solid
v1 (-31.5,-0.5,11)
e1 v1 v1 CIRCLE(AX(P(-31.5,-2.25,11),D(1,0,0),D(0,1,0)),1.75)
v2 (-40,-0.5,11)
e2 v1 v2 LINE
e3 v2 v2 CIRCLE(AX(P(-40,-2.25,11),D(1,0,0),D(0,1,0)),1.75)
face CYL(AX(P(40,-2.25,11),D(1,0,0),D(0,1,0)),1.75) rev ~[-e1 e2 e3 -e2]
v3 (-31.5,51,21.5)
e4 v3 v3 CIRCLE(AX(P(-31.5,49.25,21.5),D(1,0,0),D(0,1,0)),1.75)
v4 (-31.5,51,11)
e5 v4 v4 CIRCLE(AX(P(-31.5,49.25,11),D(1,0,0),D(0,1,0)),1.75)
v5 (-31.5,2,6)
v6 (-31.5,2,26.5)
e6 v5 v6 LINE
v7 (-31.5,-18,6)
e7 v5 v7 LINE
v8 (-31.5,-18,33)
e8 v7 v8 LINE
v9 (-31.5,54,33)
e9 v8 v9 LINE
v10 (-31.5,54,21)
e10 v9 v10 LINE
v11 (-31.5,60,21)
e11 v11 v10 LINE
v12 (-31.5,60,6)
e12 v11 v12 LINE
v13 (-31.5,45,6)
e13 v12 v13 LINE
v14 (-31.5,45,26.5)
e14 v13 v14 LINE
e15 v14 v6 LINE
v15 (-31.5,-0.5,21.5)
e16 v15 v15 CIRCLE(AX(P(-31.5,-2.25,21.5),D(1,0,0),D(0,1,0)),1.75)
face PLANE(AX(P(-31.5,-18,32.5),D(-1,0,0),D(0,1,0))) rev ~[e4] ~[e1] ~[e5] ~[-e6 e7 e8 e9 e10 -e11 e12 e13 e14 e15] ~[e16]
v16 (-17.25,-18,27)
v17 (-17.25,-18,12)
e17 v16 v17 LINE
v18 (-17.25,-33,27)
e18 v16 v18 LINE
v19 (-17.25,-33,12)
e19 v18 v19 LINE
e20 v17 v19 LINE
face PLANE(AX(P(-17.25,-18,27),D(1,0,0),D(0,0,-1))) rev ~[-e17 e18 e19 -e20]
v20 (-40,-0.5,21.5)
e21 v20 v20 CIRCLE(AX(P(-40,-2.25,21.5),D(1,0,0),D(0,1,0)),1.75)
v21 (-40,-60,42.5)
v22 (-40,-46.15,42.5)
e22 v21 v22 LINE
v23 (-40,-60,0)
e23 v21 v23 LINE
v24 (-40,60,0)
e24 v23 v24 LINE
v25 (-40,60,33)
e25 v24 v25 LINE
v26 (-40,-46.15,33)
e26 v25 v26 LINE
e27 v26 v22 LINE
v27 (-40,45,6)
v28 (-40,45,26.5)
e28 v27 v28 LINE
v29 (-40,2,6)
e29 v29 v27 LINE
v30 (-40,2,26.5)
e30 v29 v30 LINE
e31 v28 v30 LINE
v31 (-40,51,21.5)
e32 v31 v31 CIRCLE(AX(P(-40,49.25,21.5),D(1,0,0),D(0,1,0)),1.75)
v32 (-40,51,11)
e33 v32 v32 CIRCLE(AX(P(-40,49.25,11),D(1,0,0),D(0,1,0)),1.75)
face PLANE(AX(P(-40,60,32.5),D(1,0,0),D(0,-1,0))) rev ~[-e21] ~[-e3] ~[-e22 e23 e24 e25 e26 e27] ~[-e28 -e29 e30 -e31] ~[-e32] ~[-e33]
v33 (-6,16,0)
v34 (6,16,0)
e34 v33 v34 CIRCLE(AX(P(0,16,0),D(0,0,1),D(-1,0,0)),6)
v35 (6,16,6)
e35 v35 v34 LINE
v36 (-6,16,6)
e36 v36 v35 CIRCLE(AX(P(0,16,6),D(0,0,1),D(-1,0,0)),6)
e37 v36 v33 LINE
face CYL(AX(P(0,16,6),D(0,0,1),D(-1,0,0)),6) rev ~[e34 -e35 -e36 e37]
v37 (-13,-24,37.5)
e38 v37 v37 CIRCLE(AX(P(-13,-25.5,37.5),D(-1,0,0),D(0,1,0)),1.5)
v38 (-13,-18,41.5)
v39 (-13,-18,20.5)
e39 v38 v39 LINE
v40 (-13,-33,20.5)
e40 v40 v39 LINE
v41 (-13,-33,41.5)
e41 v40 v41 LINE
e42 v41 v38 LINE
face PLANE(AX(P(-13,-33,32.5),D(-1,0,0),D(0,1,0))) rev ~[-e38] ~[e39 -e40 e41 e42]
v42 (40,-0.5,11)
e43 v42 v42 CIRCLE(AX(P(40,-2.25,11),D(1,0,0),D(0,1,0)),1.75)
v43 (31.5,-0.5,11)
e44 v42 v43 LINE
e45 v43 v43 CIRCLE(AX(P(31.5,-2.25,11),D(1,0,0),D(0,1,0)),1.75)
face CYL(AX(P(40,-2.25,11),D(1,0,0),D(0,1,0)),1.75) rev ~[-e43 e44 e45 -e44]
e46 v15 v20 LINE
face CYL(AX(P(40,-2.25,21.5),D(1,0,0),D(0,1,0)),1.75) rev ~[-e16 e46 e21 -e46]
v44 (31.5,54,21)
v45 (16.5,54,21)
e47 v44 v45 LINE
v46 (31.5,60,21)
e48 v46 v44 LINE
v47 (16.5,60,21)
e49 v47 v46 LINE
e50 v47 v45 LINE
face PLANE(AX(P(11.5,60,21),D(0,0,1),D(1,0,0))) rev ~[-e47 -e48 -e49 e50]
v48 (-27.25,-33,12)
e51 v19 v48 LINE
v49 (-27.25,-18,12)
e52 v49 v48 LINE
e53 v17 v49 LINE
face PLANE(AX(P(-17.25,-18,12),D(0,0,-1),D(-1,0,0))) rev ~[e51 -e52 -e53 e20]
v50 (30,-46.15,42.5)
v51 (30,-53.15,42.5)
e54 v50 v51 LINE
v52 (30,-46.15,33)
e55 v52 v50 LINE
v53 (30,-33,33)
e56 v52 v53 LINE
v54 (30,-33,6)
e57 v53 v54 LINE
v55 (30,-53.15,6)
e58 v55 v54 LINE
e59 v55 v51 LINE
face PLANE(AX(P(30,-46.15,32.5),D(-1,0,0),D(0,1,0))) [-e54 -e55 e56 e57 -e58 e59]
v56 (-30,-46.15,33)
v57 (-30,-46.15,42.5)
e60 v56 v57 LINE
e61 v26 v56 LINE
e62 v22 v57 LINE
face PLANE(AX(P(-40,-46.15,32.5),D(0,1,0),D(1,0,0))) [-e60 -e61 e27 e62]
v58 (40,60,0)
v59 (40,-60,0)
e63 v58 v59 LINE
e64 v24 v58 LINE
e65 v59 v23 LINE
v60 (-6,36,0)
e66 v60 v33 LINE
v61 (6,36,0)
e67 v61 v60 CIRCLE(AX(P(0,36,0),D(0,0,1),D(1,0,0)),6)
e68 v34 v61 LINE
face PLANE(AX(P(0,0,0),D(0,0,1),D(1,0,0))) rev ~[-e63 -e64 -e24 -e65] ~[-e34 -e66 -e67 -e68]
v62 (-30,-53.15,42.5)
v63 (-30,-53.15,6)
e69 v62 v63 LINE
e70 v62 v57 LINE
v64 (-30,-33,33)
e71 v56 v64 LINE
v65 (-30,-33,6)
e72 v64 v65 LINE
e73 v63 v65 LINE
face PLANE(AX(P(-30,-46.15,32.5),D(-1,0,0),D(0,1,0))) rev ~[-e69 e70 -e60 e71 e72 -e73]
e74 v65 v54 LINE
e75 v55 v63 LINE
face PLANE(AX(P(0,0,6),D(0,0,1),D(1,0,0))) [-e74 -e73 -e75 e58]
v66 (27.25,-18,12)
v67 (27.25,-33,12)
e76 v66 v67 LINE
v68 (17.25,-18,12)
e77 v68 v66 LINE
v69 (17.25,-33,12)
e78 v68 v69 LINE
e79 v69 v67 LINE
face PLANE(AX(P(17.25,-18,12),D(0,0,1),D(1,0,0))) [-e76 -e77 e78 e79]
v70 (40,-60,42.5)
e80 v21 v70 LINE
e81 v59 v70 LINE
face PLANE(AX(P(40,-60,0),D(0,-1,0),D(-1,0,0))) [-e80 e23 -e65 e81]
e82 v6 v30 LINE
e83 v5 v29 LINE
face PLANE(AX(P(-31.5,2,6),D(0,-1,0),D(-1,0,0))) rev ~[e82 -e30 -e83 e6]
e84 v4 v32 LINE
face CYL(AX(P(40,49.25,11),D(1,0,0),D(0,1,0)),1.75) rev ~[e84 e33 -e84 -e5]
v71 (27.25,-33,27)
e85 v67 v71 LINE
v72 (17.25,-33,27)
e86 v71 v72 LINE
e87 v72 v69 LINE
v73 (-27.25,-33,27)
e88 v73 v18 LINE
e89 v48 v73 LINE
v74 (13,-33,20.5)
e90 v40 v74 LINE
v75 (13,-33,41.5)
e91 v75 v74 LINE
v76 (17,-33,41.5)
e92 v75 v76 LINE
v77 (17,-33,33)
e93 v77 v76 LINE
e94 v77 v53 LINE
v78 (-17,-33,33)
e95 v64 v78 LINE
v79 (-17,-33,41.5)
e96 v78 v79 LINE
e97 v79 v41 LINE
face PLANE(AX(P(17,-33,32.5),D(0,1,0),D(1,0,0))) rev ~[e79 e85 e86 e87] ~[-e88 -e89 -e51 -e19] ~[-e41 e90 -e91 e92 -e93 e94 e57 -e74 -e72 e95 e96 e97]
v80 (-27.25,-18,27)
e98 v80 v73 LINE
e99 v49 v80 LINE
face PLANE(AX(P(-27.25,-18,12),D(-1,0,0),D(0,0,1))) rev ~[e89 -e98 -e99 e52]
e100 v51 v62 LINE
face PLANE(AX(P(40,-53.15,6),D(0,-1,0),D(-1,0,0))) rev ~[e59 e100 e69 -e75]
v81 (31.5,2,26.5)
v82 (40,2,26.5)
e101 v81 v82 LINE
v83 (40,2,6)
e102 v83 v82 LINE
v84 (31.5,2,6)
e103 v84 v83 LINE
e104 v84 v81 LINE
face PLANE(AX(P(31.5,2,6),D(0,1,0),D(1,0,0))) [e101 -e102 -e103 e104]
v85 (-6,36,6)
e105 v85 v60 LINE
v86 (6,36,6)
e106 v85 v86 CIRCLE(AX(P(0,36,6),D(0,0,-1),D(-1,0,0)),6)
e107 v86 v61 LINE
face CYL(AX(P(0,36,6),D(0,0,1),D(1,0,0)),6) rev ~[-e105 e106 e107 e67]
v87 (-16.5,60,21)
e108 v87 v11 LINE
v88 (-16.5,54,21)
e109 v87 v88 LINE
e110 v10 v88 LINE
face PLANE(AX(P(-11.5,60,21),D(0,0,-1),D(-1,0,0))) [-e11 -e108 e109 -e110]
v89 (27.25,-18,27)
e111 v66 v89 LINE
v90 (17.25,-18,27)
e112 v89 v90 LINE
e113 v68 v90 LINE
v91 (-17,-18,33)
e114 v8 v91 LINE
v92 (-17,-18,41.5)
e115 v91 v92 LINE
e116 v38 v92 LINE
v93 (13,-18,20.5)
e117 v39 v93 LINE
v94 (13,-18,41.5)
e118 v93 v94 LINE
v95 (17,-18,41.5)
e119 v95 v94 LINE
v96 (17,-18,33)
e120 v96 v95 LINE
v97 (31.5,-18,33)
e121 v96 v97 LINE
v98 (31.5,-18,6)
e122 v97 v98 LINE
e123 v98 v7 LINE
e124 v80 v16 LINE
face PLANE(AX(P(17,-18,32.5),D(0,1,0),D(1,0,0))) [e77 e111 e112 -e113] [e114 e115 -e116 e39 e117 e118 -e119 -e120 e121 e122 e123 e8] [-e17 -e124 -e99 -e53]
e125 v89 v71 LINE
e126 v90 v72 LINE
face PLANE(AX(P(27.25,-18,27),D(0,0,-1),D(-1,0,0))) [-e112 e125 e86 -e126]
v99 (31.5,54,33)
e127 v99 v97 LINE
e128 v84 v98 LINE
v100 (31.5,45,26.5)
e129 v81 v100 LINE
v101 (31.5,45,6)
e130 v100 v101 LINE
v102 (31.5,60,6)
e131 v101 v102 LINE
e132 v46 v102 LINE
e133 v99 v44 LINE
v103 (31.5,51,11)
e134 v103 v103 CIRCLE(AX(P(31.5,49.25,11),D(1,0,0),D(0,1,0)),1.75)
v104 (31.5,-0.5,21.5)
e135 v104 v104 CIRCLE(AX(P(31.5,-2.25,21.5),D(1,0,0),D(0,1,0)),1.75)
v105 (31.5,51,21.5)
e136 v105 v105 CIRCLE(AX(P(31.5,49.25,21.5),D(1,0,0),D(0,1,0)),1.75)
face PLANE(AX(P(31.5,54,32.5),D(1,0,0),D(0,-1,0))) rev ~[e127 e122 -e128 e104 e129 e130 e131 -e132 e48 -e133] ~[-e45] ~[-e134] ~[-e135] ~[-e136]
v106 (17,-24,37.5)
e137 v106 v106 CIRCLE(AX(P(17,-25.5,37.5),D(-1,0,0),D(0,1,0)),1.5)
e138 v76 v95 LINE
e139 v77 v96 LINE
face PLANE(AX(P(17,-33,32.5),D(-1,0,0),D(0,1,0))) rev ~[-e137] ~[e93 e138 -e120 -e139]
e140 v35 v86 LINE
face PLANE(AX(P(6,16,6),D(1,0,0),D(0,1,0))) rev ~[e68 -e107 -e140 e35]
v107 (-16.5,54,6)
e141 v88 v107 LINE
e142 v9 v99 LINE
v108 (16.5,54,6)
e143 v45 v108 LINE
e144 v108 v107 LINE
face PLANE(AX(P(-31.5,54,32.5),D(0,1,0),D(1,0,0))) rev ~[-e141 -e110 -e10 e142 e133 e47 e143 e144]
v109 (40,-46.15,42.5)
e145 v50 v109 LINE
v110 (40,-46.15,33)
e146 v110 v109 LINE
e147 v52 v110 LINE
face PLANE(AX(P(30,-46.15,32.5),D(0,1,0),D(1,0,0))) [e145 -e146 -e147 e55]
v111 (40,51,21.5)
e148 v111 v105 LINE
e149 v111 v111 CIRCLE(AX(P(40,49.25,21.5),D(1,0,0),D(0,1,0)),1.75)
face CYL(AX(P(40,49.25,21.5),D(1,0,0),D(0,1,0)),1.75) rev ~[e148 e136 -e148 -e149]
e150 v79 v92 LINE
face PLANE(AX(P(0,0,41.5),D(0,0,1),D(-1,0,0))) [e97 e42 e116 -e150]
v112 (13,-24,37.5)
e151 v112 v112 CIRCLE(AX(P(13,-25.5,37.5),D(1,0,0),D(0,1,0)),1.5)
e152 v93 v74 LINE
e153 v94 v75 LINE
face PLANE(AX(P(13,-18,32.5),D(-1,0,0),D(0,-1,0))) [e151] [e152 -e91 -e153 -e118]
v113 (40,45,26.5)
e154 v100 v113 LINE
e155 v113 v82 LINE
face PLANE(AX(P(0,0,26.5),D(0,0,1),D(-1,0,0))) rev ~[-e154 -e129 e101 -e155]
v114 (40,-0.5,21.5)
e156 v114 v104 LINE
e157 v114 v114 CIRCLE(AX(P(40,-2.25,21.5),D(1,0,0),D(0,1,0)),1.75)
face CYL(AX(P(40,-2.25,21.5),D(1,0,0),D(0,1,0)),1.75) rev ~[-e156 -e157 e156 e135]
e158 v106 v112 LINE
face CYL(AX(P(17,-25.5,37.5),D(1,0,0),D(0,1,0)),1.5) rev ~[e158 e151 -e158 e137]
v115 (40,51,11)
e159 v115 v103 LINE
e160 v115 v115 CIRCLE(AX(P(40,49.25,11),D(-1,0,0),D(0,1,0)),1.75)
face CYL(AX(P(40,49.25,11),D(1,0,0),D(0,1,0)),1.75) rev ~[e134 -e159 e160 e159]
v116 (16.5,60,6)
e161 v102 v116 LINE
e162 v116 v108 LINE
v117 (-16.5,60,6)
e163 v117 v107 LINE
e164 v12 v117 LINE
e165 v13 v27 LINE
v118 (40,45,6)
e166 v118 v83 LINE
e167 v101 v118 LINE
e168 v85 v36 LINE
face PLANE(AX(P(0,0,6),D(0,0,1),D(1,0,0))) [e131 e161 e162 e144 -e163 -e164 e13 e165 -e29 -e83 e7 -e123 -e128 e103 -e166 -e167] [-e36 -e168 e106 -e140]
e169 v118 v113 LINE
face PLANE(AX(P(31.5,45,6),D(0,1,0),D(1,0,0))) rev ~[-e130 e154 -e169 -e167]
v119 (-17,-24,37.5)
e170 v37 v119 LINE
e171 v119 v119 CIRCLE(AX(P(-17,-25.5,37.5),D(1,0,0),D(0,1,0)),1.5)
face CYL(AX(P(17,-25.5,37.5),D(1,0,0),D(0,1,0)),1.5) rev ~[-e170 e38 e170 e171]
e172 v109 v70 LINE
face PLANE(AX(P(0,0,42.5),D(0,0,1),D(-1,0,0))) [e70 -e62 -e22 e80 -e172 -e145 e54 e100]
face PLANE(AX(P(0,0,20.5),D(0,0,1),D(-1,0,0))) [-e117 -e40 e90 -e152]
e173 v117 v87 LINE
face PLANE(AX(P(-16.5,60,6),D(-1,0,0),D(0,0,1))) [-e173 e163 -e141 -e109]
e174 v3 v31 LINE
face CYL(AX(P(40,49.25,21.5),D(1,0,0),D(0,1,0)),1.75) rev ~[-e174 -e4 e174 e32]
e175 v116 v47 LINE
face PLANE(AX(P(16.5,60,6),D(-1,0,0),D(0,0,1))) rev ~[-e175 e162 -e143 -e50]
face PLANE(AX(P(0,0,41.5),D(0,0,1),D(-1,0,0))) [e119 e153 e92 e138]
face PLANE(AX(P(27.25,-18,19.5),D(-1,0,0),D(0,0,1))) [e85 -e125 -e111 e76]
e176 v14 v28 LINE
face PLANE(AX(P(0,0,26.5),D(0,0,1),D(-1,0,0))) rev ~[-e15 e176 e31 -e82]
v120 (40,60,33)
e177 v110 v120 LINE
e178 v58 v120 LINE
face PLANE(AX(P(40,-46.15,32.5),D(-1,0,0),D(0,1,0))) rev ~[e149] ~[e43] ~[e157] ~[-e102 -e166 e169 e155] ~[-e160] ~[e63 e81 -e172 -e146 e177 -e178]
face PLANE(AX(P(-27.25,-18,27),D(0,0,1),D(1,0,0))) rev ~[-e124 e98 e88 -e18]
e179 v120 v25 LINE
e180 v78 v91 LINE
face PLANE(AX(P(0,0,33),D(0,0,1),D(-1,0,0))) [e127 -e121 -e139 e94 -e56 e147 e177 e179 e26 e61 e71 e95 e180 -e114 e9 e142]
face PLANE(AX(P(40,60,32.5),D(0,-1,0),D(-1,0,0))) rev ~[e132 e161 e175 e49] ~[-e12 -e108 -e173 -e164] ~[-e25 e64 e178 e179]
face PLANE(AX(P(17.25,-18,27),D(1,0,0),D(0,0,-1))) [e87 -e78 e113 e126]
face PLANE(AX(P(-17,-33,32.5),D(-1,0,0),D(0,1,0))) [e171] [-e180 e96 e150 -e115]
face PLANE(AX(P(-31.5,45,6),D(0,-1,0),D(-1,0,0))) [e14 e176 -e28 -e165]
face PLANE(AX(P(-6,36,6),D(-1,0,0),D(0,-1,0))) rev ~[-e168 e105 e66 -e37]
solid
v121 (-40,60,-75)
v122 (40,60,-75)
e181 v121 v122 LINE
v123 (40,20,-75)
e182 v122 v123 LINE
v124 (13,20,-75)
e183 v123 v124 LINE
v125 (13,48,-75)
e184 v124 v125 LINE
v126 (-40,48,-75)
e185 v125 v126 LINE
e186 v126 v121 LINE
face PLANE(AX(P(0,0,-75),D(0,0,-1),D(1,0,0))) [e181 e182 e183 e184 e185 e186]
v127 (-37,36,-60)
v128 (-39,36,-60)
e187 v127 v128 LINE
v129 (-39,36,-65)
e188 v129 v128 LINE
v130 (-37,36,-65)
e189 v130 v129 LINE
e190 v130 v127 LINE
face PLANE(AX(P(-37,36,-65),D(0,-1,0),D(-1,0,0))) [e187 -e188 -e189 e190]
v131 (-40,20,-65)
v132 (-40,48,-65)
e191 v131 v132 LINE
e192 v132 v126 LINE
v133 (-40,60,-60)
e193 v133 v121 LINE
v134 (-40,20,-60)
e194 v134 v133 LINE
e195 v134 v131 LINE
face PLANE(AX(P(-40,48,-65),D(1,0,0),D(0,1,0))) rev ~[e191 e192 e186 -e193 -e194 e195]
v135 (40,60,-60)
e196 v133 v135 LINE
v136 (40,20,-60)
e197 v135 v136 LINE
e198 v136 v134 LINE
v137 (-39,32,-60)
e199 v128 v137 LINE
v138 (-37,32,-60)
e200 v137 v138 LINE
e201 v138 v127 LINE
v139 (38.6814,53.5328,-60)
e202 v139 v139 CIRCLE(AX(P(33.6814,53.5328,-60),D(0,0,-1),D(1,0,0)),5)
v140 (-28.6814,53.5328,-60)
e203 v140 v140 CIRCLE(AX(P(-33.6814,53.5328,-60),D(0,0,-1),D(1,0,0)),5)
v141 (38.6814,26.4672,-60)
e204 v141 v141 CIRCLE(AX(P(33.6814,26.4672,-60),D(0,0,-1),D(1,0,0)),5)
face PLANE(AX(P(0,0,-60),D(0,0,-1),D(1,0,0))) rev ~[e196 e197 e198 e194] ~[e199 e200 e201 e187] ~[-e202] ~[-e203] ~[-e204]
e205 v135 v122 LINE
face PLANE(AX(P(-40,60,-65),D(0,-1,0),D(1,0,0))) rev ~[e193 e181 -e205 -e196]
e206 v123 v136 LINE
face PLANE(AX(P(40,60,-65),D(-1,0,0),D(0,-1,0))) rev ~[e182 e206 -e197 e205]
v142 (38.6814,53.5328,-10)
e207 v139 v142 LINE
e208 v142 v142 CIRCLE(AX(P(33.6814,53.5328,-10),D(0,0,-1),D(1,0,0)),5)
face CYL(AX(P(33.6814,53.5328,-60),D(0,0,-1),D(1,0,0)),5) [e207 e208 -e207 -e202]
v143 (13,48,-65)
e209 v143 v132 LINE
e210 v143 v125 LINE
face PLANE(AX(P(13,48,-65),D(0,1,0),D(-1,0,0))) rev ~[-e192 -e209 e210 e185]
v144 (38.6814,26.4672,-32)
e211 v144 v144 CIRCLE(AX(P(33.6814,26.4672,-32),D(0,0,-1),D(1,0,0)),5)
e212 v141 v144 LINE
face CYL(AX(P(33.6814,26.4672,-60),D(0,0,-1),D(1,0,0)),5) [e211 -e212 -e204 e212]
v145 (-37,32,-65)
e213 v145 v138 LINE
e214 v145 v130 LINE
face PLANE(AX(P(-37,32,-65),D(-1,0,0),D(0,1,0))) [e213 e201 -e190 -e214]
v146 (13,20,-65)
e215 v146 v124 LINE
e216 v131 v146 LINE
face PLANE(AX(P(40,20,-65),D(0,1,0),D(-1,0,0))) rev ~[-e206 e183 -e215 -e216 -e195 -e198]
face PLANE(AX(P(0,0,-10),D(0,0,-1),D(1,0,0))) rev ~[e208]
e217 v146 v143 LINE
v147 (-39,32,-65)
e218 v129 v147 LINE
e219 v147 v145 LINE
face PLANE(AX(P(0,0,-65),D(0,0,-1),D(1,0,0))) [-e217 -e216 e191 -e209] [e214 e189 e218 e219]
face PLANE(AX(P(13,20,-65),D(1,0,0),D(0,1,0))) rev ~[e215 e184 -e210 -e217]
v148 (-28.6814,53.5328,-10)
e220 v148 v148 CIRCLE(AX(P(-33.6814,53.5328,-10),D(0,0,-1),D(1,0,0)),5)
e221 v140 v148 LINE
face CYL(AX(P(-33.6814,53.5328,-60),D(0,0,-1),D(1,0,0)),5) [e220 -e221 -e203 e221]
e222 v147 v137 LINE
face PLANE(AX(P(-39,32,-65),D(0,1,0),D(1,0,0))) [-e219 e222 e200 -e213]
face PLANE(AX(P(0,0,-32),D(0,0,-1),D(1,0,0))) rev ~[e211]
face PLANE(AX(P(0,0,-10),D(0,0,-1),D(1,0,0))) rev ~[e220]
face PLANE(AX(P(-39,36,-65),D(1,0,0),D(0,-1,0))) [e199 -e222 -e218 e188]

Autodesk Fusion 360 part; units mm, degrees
sketch "Sketch1" plane through (0, 0, 0) normal (0, 0, 1) x (1, 0, 0)
  line L0 (40, -60) -> (-40, -60)
  line L1 (-40, -60) -> (-40, 60)
  line L2 (-40, 60) -> (40, 60)
  line L3 (40, 60) -> (40, -60)
  line L4 (40, -60) -> (-40, 60) construction
  line L5 (-40, -60) -> (40, 60) construction
  dimension "d1" = 80
  dimension "d2" = 120
extrude "Extrude1" add sketch "Sketch1" along normal blind 6 makes body 1
sketch "Sketch2" plane through (0, 0, 6) normal (0, 0, 1) x (-1, 0, 0)
  line L0 (-40, -60) -> (40, -60)
  line L1 (40, -60) -> (40, 60)
  line L2 (40, 60) -> (-40, 60)
  line L3 (-40, 60) -> (-40, -60)
  line L4 (40, 60) -> (-40, 60)
  line L5 (-40, 60) -> (-40, 53.15)
  line L6 (-40, 53.15) -> (40, 53.15)
  line L7 (40, 53.15) -> (40, 60)
  dimension "d5" = 6.85
extrude "Extrude2" add sketch "Sketch2" along normal blind 36.5 contours L1 L2 L3 L4 L5 L6 L7 bodies 1
sketch "Sketch3" plane through (0, 0, 6) normal (0, 0, 1) x (-1, 0, 0)
  line L0 (40, 53.15) -> (-40, 53.15)
  line L1 (-40, 53.15) -> (-40, -60)
  line L2 (-40, -60) -> (40, -60)
  line L3 (40, -60) -> (40, 53.15)
  line L4 (40, -60) -> (31.5, -60)
  line L5 (31.5, -60) -> (31.5, -45)
  line L6 (31.5, -45) -> (40, -45)
  line L7 (40, -45) -> (40, -60)
  line L8 (40, -45) -> (31.5, -45)
  line L9 (31.5, -45) -> (31.5, -2)
  line L10 (31.5, -2) -> (40, -2)
  line L11 (40, -2) -> (40, -45)
  line L12 (40, -2) -> (31.5, -2)
  line L13 (31.5, -2) -> (31.5, 18)
  line L14 (31.5, 18) -> (40, 18)
  line L15 (40, 18) -> (40, -2)
  line L16 (0, -60) -> (0, -52.5)
  line L17 (-31.5, -60) -> (-31.5, -45)
  line L18 (-31.5, -45) -> (-40, -45)
  line L19 (-31.5, -2) -> (-40, -2)
  line L20 (-31.5, -2) -> (-31.5, 18)
  line L21 (-31.5, 18) -> (-40, 18)
  line L22 (-40, 18) -> (-40, -2)
  line L23 (-40, -45) -> (-40, -60)
  line L24 (-40, -60) -> (-31.5, -60)
  line L25 (31.5, -60) -> (-31.5, -60)
  line L26 (-31.5, -60) -> (-31.5, -54)
  line L27 (-31.5, -54) -> (31.5, -54)
  line L28 (31.5, -54) -> (31.5, -60)
  line L29 (-31.5, -45) -> (-31.5, -2)
  line L30 (-40, -2) -> (-40, -45)
  dimension "d8" = 8.5
  dimension "d9" = 15
  dimension "d10" = 8.5
  dimension "d11" = 43
  dimension "d12" = 8.5
  dimension "d13" = 20
  dimension "d14" = 63
  dimension "d15" = 6
extrude "Extrude3" add sketch "Sketch3" along normal blind 20.5 contours L3 L10 L12 L13 L14 L15 | L1 L19 L20 L21 L22 | L2 L3 L4 L5 L6 L7 L8 L28 | L1 L2 L17 L18 L23 L24 L26 | L2 L5 L16 L25 L27 L28 | L2 L16 L17 L25 L26 L27 bodies 1
sketch "Sketch4" plane through (0, 60, 0) normal (0, 1, 0) x (-1, 0, 0)
  line L0 (-40, 0) -> (40, 0)
  line L1 (40, 0) -> (40, 26.5)
  line L2 (40, 26.5) -> (-40, 26.5)
  line L3 (-40, 26.5) -> (-40, 0)
  line L4 (-40, 0) -> (-31.5, 0)
  line L5 (-31.5, 0) -> (-31.5, 6)
  line L6 (-31.5, 6) -> (-40, 6)
  line L7 (-40, 6) -> (-40, 0)
  line L8 (-31.5, 6) -> (-11.5, 6)
  line L9 (-11.5, 6) -> (-11.5, 26)
  line L10 (-11.5, 26) -> (-31.5, 26)
  line L11 (-31.5, 26) -> (-31.5, 6)
  line L12 (0, 0) -> (0, 5)
  line L13 (11.5, 6) -> (11.5, 26)
  line L14 (11.5, 26) -> (31.5, 26)
  line L15 (31.5, 26) -> (31.5, 6)
  line L16 (31.5, 6) -> (11.5, 6)
  dimension "d18" = 8.5
  dimension "d19" = 6
  dimension "d20" = 20
  dimension "d21" = 20
extrude "Extrude4" cut sketch "Sketch4" against normal blind 15 contours L8 L9 L10 L11 | L13 L14 L15 L16 bodies 1
extrude "Extrude5" add sketch "Sketch3" along normal blind 6 from surface at 20.5 contours L3 L10 L12 L13 L14 L15 | L1 L19 L20 L21 L22 | L3 L6 L8 L9 L10 L11 L12 | L1 L18 L19 L29 L30 | L2 L3 L4 L5 L6 L7 L8 L28 | L1 L2 L17 L18 L23 L24 L26 | L2 L5 L16 L25 L27 L28 | L2 L16 L17 L25 L26 L27 bodies 1
extrude "Extrude6" add 1 faces at (-11.5, 56, 12.6667) along direction (-1, 0, 0) blind 5 on bodies 1 bodies 1
extrude "Extrude7" add 1 faces at (11.5, 56, 12.6667) along direction (1, 0, 0) blind 5 on bodies 1 bodies 1
extrude "Extrude8" add 1 faces at (26.5, 56, 26) along direction (0, 0, -1) blind 5 on bodies 1 bodies 1
extrude "Extrude9" add 1 faces at (-21.5, 58, 26) along direction (0, 0, -1) blind 5 on bodies 1 bodies 1
sketch "Sketch5" plane through (0, 0, 6) normal (0, 0, 1) x (-1, 0, 0)
  line L0 (-16.5, -60) -> (-16.5, -54)
  line L1 (-16.5, -54) -> (16.5, -54)
  line L2 (16.5, -54) -> (16.5, -60)
  line L3 (16.5, -60) -> (31.5, -60)
  line L4 (31.5, -60) -> (31.5, -45)
  line L5 (31.5, -45) -> (40, -45)
  line L6 (40, -45) -> (40, -2)
  line L7 (40, -2) -> (31.5, -2)
  line L8 (31.5, -2) -> (31.5, 18)
  line L9 (31.5, 18) -> (40, 18)
  line L10 (40, 18) -> (40, 53.15)
  line L11 (40, 53.15) -> (-40, 53.15)
  line L12 (-40, 53.15) -> (-40, 18)
  line L13 (-40, 18) -> (-31.5, 18)
  line L14 (-31.5, 18) -> (-31.5, -2)
  line L15 (-31.5, -2) -> (-40, -2)
  line L16 (-40, -2) -> (-40, -45)
  line L17 (-40, -45) -> (-31.5, -45)
  line L18 (-31.5, -45) -> (-31.5, -60)
  line L19 (-31.5, -60) -> (-16.5, -60)
  line L20 (-40, 18) -> (40, 18)
  line L21 (40, 18) -> (40, 33)
  line L22 (40, 33) -> (-40, 33)
  line L23 (-40, 33) -> (-40, 18)
  line L24 (-40, 53.15) -> (-30, 53.15)
  line L25 (-30, 53.15) -> (-30, 33)
  line L26 (-30, 33) -> (-40, 33)
  line L27 (-40, 33) -> (-40, 53.15)
  line L28 (40, 53.15) -> (30, 53.15)
  line L29 (30, 53.15) -> (30, 33)
  line L30 (30, 33) -> (40, 33)
  line L31 (40, 33) -> (40, 53.15)
  dimension "d35" = 15
  dimension "d36" = 10
  dimension "d37" = 10
extrude "Extrude10" add sketch "Sketch5" along normal blind 26.5 contours L9 L10 L12 L13 L20 L21 L22 L23 L26 L30 | L11 L12 L22 L24 L25 L26 L27 | L10 L11 L22 L28 L29 L30 L31 bodies 1
sketch "Sketch6" plane through (0, 0, 32.5) normal (0, 0, 1) x (-1, 0, 0)
  line L0 (31.5, 18) -> (31.5, -54)
  line L1 (31.5, -54) -> (-31.5, -54)
  line L2 (-31.5, -54) -> (-31.5, 18)
  line L3 (-31.5, 18) -> (31.5, 18)
  line L4 (40, -60) -> (40, 53.15)
  line L5 (40, 53.15) -> (30, 53.15)
  line L6 (30, 53.15) -> (30, 33)
  line L7 (30, 33) -> (-30, 33)
  line L8 (-30, 33) -> (-30, 53.15)
  line L9 (-30, 53.15) -> (-40, 53.15)
  line L10 (-40, 53.15) -> (-40, -60)
  line L11 (-40, -60) -> (40, -60)
  line L12 (-40, 53.15) -> (-30, 53.15)
  line L13 (-30, 53.15) -> (-30, 46.15)
  line L14 (-30, 46.15) -> (-40, 46.15)
  line L15 (-40, 46.15) -> (-40, 53.15)
  line L16 (30, 53.15) -> (40, 53.15)
  line L17 (40, 53.15) -> (40, 46.15)
  line L18 (40, 46.15) -> (30, 46.15)
  line L19 (30, 46.15) -> (30, 53.15)
  dimension "d40" = 7
  dimension "d41" = 7
extrude "Extrude11" add sketch "Sketch6" along normal blind 10 contours L4 L5 L6 L16 L17 L18 L19 | L8 L9 L10 L12 L13 L14 L15 bodies 1
sketch "Sketch7" plane through (0, 0, 32.5) normal (0, 0, 1) x (-1, 0, 0)
  line L0 (31.5, 18) -> (31.5, -54)
  line L1 (31.5, -54) -> (-31.5, -54)
  line L2 (-31.5, -54) -> (-31.5, 18)
  line L3 (-31.5, 18) -> (31.5, 18)
  line L4 (-30, 46.15) -> (-40, 46.15)
  line L5 (-40, 46.15) -> (-40, -60)
  line L6 (-40, -60) -> (40, -60)
  line L7 (40, -60) -> (40, 46.15)
  line L8 (40, 46.15) -> (30, 46.15)
  line L9 (30, 46.15) -> (30, 33)
  line L10 (30, 33) -> (-30, 33)
  line L11 (-30, 33) -> (-30, 46.15)
  line L12 (0, 18) -> (0, 33)
  line L13 (13, 18) -> (-13, 18)
  line L14 (-13, 18) -> (-13, 33)
  line L15 (-13, 33) -> (13, 33)
  line L16 (13, 33) -> (13, 18)
  line L17 (13, 18) -> (-13, 33) construction
  line L18 (-13, 18) -> (13, 33) construction
  line L19 (-13, 33) -> (-17, 33)
  line L20 (-17, 33) -> (-17, 18)
  line L21 (-17, 18) -> (-13, 18)
  line L22 (-13, 18) -> (-13, 33)
  line L23 (13, 33) -> (17, 33)
  line L24 (17, 33) -> (17, 18)
  line L25 (17, 18) -> (13, 18)
  line L26 (13, 18) -> (13, 33)
  point P0 (0, 25.5)
  dimension "d44" = 26
  dimension "d45" = 4
  dimension "d46" = 4
extrude "Extrude12" add sketch "Sketch7" along normal blind 9 contours L3 L10 L16 L23 L24 L25 L26 | L3 L10 L14 L19 L20 L21 L22 bodies 1
extrude "Extrude13" cut 1 faces at (-4.3333, -23, 32.5) along direction (0, 0, -1) blind 12 on bodies 1 bodies 1
sketch "Sketch8" plane through (17, 0, 0) normal (1, 0, 0) x (0, 1, 0)
  line L0 (-33, 32.5) -> (-18, 32.5)
  line L1 (-18, 32.5) -> (-18, 41.5)
  line L2 (-18, 41.5) -> (-33, 41.5)
  line L3 (-33, 41.5) -> (-33, 32.5)
  line L4 (-25.5, 41.5) -> (-25.5, 37.5)
  circle A0 centre (-25.5, 37.5) radius 1.5
  dimension "d51" = 4
  dimension "d52" = 3
extrude "Extrude14" cut sketch "Sketch8" against normal blind 40 contours A0 bodies 1
sketch "Sketch9" plane through (40, 0, 0) normal (1, 0, 0) x (0, 1, 0)
  line L0 (45, 26.5) -> (45, 6)
  line L1 (45, 6) -> (2, 6)
  line L2 (2, 6) -> (2, 26.5)
  line L3 (2, 26.5) -> (45, 26.5)
  line L4 (60, 0) -> (60, 32.5)
  line L5 (60, 32.5) -> (-46.15, 32.5)
  line L6 (-46.15, 32.5) -> (-46.15, 42.5)
  line L7 (-46.15, 42.5) -> (-60, 42.5)
  line L8 (-60, 42.5) -> (-60, 0)
  line L9 (-60, 0) -> (60, 0)
  line L10 (45, 6) -> (45, 11)
  line L11 (45, 11) -> (49.25, 11)
  circle A0 centre (49.25, 11) radius 1.75
  line L12 (45, 16.25) -> (47.125, 16.25)
  line L13 (23.5, 6) -> (23.5, 10)
  circle A1 centre (49.25, 21.5) radius 1.75
  circle A2 centre (-2.25, 11) radius 1.75
  circle A3 centre (-2.25, 21.5) radius 1.75
  dimension "d55" = 5
  dimension "d56" = 4.25
  dimension "d57" = 3.5
extrude "Extrude15" cut sketch "Sketch9" against normal blind 95 contours A0 | A1 | A2 | A3 bodies 1
sketch "Sketch10" plane through (0, 0, 6) normal (0, 0, 1) x (-1, 0, 0)
  line L0 (31.5, 18) -> (-31.5, 18)
  line L1 (-31.5, 18) -> (-31.5, -2)
  line L2 (-31.5, -2) -> (-40, -2)
  line L3 (-40, -2) -> (-40, -45)
  line L4 (-40, -45) -> (-31.5, -45)
  line L5 (-31.5, -45) -> (-31.5, -60)
  line L6 (-31.5, -60) -> (-16.5, -60)
  line L7 (-16.5, -60) -> (-16.5, -54)
  line L8 (-16.5, -54) -> (16.5, -54)
  line L9 (16.5, -54) -> (16.5, -60)
  line L10 (16.5, -60) -> (31.5, -60)
  line L11 (31.5, -60) -> (31.5, -45)
  line L12 (31.5, -45) -> (40, -45)
  line L13 (40, -45) -> (40, -2)
  line L14 (40, -2) -> (31.5, -2)
  line L15 (31.5, -2) -> (31.5, 18)
  line L16 (0, -60) -> (0, -26)
  line L17 (6, -36) -> (6, -16)
  arc A0 (6, -16) -> (-6, -16) centre (0, -16) ccw
  line L18 (-6, -16) -> (-6, -36)
  arc A1 (-6, -36) -> (6, -36) centre (0, -36) ccw
  line L19 (0, -36) -> (0, -16) construction
  point P0 (0, -26)
  dimension "d60" = 34
  dimension "d61" = 10
  dimension "d62" = 12
extrude "Extrude16" cut sketch "Sketch10" against normal blind 20 contours L17 A0 L18 A1 bodies 1
extrude "Extrude17" add 1 faces at (-26.1667, -23, 32.5) along direction (0, 0, 1) blind 0.5 on bodies 1 bodies 1
sketch "Sketch11" plane through (0, -18, 0) normal (0, 1, 0) x (-1, 0, 0)
  line L0 (13, 41.5) -> (13, 20.5)
  line L1 (13, 20.5) -> (-13, 20.5)
  line L2 (-13, 20.5) -> (-13, 41.5)
  line L3 (-13, 41.5) -> (-17, 41.5)
  line L4 (-17, 41.5) -> (-17, 33)
  line L5 (-17, 33) -> (-31.5, 33)
  line L6 (-31.5, 33) -> (-31.5, 6)
  line L7 (-31.5, 6) -> (31.5, 6)
  line L8 (31.5, 6) -> (31.5, 33)
  line L9 (31.5, 33) -> (17, 33)
  line L10 (17, 33) -> (17, 41.5)
  line L11 (17, 41.5) -> (13, 41.5)
  line L12 (-31.5, 19.5) -> (-13, 19.5)
  line L13 (-17.25, 12) -> (-27.25, 12)
  line L14 (-27.25, 12) -> (-27.25, 27)
  line L15 (-27.25, 27) -> (-17.25, 27)
  line L16 (-17.25, 27) -> (-17.25, 12)
  line L17 (-17.25, 12) -> (-27.25, 27) construction
  line L18 (-27.25, 12) -> (-17.25, 27) construction
  line L19 (0, 20.5) -> (0, 15)
  line L20 (27.25, 12) -> (27.25, 27)
  line L21 (27.25, 27) -> (17.25, 27)
  line L22 (17.25, 27) -> (17.25, 12)
  line L23 (17.25, 12) -> (27.25, 12)
  point P0 (-22.25, 19.5)
  dimension "d67" = 10
  dimension "d68" = 15
extrude "Extrude18" cut sketch "Sketch11" against normal blind 19 contours L12 L14 L15 L16 | L12 L13 L14 L16 | L20 L21 L22 L23 bodies 1
sketch "Sketch12" plane through (0, 0, 0) normal (0, 0, -1) x (1, 0, 0)
  line L0 (-6, -36) -> (-6, -16)
  arc A0 (6, -16) -> (-6, -16) centre (0, -16) ccw
  line L1 (6, -16) -> (6, -36)
  arc A1 (-6, -36) -> (6, -36) centre (0, -36) ccw
  line L2 (-40, -60) -> (40, -60)
  line L3 (40, -60) -> (40, 60)
  line L4 (40, 60) -> (-40, 60)
  line L5 (-40, 60) -> (-40, -60)
  line L6 (-40, -60) -> (40, -60)
  line L7 (40, -60) -> (40, -20)
  line L8 (40, -20) -> (-40, -20)
  line L9 (-40, -20) -> (-40, -60)
extrude "Extrude19" add sketch "Sketch12" along normal blind 5 from surface at 60 separate body contours L0 L1 A1 L2 L3 L5 L6 L7 L8 L9 | L0 L1 A1 L8 makes body 2
sketch "Sketch13" plane through (0, 0, -65) normal (0, 0, -1) x (1, 0, 0)
  line L0 (-40, -20) -> (-40, -60)
  line L1 (-40, -60) -> (40, -60)
  line L2 (40, -60) -> (40, -20)
  line L3 (40, -20) -> (-40, -20)
  circle A0 centre (-33.6814, -53.5328) radius 5
  circle A1 centre (33.6814, -53.5328) radius 5
  line L4 (-40, -40) -> (40, -40)
  circle A2 centre (33.6814, -26.4672) radius 5
  circle A3 centre (-33.6814, -26.4672) radius 5
  dimension "d74" = 10
extrude "Extrude20" add sketch "Sketch13" against normal blind 50 from surface at -5 contours A0 | A1 bodies 2
extrude "Extrude21" add sketch "Sketch13" against normal blind 28 from surface at -5 contours A2 bodies 2
sketch "Sketch14" plane through (0, 0, -65) normal (0, 0, -1) x (1, 0, 0)
  line L0 (-40, -20) -> (-40, -60)
  line L1 (-40, -60) -> (40, -60)
  line L2 (40, -60) -> (40, -20)
  line L3 (40, -20) -> (-40, -20)
  line L4 (40, -60) -> (-40, -60)
  line L5 (40, -20) -> (13, -20)
  line L6 (13, -20) -> (13, -48)
  line L7 (13, -48) -> (-40, -48)
  dimension "d81" = 27
  dimension "d82" = 28
extrude "Extrude22" add sketch "Sketch14" along normal blind 10 contours L0 L1 L2 L3 L4 L5 L6 L7 bodies 2
sketch "Sketch15" plane through (0, 0, -65) normal (0, 0, -1) x (1, 0, 0)
  line L0 (13, -48) -> (13, -20)
  line L1 (13, -20) -> (-40, -20)
  line L2 (-40, -20) -> (-40, -48)
  line L3 (-40, -48) -> (13, -48)
  line L4 (-40, -34) -> (13, -34) construction
  line L5 (-40, -34) -> (-40, -32) construction
  line L6 (-40, -34) -> (-40, -36) construction
  line L7 (-40, -32) -> (-39, -32) construction
  line L8 (-39, -32) -> (-37, -32)
  line L9 (-37, -32) -> (-37, -36)
  line L10 (-37, -36) -> (-39, -36)
  line L11 (-39, -36) -> (-39, -32)
  dimension "d85" = 2
  dimension "d86" = 2
  dimension "d87" = 2
extrude "Extrude23" cut sketch "Sketch15" against normal blind 19 contours L8 L9 L10 L11 bodies 2
